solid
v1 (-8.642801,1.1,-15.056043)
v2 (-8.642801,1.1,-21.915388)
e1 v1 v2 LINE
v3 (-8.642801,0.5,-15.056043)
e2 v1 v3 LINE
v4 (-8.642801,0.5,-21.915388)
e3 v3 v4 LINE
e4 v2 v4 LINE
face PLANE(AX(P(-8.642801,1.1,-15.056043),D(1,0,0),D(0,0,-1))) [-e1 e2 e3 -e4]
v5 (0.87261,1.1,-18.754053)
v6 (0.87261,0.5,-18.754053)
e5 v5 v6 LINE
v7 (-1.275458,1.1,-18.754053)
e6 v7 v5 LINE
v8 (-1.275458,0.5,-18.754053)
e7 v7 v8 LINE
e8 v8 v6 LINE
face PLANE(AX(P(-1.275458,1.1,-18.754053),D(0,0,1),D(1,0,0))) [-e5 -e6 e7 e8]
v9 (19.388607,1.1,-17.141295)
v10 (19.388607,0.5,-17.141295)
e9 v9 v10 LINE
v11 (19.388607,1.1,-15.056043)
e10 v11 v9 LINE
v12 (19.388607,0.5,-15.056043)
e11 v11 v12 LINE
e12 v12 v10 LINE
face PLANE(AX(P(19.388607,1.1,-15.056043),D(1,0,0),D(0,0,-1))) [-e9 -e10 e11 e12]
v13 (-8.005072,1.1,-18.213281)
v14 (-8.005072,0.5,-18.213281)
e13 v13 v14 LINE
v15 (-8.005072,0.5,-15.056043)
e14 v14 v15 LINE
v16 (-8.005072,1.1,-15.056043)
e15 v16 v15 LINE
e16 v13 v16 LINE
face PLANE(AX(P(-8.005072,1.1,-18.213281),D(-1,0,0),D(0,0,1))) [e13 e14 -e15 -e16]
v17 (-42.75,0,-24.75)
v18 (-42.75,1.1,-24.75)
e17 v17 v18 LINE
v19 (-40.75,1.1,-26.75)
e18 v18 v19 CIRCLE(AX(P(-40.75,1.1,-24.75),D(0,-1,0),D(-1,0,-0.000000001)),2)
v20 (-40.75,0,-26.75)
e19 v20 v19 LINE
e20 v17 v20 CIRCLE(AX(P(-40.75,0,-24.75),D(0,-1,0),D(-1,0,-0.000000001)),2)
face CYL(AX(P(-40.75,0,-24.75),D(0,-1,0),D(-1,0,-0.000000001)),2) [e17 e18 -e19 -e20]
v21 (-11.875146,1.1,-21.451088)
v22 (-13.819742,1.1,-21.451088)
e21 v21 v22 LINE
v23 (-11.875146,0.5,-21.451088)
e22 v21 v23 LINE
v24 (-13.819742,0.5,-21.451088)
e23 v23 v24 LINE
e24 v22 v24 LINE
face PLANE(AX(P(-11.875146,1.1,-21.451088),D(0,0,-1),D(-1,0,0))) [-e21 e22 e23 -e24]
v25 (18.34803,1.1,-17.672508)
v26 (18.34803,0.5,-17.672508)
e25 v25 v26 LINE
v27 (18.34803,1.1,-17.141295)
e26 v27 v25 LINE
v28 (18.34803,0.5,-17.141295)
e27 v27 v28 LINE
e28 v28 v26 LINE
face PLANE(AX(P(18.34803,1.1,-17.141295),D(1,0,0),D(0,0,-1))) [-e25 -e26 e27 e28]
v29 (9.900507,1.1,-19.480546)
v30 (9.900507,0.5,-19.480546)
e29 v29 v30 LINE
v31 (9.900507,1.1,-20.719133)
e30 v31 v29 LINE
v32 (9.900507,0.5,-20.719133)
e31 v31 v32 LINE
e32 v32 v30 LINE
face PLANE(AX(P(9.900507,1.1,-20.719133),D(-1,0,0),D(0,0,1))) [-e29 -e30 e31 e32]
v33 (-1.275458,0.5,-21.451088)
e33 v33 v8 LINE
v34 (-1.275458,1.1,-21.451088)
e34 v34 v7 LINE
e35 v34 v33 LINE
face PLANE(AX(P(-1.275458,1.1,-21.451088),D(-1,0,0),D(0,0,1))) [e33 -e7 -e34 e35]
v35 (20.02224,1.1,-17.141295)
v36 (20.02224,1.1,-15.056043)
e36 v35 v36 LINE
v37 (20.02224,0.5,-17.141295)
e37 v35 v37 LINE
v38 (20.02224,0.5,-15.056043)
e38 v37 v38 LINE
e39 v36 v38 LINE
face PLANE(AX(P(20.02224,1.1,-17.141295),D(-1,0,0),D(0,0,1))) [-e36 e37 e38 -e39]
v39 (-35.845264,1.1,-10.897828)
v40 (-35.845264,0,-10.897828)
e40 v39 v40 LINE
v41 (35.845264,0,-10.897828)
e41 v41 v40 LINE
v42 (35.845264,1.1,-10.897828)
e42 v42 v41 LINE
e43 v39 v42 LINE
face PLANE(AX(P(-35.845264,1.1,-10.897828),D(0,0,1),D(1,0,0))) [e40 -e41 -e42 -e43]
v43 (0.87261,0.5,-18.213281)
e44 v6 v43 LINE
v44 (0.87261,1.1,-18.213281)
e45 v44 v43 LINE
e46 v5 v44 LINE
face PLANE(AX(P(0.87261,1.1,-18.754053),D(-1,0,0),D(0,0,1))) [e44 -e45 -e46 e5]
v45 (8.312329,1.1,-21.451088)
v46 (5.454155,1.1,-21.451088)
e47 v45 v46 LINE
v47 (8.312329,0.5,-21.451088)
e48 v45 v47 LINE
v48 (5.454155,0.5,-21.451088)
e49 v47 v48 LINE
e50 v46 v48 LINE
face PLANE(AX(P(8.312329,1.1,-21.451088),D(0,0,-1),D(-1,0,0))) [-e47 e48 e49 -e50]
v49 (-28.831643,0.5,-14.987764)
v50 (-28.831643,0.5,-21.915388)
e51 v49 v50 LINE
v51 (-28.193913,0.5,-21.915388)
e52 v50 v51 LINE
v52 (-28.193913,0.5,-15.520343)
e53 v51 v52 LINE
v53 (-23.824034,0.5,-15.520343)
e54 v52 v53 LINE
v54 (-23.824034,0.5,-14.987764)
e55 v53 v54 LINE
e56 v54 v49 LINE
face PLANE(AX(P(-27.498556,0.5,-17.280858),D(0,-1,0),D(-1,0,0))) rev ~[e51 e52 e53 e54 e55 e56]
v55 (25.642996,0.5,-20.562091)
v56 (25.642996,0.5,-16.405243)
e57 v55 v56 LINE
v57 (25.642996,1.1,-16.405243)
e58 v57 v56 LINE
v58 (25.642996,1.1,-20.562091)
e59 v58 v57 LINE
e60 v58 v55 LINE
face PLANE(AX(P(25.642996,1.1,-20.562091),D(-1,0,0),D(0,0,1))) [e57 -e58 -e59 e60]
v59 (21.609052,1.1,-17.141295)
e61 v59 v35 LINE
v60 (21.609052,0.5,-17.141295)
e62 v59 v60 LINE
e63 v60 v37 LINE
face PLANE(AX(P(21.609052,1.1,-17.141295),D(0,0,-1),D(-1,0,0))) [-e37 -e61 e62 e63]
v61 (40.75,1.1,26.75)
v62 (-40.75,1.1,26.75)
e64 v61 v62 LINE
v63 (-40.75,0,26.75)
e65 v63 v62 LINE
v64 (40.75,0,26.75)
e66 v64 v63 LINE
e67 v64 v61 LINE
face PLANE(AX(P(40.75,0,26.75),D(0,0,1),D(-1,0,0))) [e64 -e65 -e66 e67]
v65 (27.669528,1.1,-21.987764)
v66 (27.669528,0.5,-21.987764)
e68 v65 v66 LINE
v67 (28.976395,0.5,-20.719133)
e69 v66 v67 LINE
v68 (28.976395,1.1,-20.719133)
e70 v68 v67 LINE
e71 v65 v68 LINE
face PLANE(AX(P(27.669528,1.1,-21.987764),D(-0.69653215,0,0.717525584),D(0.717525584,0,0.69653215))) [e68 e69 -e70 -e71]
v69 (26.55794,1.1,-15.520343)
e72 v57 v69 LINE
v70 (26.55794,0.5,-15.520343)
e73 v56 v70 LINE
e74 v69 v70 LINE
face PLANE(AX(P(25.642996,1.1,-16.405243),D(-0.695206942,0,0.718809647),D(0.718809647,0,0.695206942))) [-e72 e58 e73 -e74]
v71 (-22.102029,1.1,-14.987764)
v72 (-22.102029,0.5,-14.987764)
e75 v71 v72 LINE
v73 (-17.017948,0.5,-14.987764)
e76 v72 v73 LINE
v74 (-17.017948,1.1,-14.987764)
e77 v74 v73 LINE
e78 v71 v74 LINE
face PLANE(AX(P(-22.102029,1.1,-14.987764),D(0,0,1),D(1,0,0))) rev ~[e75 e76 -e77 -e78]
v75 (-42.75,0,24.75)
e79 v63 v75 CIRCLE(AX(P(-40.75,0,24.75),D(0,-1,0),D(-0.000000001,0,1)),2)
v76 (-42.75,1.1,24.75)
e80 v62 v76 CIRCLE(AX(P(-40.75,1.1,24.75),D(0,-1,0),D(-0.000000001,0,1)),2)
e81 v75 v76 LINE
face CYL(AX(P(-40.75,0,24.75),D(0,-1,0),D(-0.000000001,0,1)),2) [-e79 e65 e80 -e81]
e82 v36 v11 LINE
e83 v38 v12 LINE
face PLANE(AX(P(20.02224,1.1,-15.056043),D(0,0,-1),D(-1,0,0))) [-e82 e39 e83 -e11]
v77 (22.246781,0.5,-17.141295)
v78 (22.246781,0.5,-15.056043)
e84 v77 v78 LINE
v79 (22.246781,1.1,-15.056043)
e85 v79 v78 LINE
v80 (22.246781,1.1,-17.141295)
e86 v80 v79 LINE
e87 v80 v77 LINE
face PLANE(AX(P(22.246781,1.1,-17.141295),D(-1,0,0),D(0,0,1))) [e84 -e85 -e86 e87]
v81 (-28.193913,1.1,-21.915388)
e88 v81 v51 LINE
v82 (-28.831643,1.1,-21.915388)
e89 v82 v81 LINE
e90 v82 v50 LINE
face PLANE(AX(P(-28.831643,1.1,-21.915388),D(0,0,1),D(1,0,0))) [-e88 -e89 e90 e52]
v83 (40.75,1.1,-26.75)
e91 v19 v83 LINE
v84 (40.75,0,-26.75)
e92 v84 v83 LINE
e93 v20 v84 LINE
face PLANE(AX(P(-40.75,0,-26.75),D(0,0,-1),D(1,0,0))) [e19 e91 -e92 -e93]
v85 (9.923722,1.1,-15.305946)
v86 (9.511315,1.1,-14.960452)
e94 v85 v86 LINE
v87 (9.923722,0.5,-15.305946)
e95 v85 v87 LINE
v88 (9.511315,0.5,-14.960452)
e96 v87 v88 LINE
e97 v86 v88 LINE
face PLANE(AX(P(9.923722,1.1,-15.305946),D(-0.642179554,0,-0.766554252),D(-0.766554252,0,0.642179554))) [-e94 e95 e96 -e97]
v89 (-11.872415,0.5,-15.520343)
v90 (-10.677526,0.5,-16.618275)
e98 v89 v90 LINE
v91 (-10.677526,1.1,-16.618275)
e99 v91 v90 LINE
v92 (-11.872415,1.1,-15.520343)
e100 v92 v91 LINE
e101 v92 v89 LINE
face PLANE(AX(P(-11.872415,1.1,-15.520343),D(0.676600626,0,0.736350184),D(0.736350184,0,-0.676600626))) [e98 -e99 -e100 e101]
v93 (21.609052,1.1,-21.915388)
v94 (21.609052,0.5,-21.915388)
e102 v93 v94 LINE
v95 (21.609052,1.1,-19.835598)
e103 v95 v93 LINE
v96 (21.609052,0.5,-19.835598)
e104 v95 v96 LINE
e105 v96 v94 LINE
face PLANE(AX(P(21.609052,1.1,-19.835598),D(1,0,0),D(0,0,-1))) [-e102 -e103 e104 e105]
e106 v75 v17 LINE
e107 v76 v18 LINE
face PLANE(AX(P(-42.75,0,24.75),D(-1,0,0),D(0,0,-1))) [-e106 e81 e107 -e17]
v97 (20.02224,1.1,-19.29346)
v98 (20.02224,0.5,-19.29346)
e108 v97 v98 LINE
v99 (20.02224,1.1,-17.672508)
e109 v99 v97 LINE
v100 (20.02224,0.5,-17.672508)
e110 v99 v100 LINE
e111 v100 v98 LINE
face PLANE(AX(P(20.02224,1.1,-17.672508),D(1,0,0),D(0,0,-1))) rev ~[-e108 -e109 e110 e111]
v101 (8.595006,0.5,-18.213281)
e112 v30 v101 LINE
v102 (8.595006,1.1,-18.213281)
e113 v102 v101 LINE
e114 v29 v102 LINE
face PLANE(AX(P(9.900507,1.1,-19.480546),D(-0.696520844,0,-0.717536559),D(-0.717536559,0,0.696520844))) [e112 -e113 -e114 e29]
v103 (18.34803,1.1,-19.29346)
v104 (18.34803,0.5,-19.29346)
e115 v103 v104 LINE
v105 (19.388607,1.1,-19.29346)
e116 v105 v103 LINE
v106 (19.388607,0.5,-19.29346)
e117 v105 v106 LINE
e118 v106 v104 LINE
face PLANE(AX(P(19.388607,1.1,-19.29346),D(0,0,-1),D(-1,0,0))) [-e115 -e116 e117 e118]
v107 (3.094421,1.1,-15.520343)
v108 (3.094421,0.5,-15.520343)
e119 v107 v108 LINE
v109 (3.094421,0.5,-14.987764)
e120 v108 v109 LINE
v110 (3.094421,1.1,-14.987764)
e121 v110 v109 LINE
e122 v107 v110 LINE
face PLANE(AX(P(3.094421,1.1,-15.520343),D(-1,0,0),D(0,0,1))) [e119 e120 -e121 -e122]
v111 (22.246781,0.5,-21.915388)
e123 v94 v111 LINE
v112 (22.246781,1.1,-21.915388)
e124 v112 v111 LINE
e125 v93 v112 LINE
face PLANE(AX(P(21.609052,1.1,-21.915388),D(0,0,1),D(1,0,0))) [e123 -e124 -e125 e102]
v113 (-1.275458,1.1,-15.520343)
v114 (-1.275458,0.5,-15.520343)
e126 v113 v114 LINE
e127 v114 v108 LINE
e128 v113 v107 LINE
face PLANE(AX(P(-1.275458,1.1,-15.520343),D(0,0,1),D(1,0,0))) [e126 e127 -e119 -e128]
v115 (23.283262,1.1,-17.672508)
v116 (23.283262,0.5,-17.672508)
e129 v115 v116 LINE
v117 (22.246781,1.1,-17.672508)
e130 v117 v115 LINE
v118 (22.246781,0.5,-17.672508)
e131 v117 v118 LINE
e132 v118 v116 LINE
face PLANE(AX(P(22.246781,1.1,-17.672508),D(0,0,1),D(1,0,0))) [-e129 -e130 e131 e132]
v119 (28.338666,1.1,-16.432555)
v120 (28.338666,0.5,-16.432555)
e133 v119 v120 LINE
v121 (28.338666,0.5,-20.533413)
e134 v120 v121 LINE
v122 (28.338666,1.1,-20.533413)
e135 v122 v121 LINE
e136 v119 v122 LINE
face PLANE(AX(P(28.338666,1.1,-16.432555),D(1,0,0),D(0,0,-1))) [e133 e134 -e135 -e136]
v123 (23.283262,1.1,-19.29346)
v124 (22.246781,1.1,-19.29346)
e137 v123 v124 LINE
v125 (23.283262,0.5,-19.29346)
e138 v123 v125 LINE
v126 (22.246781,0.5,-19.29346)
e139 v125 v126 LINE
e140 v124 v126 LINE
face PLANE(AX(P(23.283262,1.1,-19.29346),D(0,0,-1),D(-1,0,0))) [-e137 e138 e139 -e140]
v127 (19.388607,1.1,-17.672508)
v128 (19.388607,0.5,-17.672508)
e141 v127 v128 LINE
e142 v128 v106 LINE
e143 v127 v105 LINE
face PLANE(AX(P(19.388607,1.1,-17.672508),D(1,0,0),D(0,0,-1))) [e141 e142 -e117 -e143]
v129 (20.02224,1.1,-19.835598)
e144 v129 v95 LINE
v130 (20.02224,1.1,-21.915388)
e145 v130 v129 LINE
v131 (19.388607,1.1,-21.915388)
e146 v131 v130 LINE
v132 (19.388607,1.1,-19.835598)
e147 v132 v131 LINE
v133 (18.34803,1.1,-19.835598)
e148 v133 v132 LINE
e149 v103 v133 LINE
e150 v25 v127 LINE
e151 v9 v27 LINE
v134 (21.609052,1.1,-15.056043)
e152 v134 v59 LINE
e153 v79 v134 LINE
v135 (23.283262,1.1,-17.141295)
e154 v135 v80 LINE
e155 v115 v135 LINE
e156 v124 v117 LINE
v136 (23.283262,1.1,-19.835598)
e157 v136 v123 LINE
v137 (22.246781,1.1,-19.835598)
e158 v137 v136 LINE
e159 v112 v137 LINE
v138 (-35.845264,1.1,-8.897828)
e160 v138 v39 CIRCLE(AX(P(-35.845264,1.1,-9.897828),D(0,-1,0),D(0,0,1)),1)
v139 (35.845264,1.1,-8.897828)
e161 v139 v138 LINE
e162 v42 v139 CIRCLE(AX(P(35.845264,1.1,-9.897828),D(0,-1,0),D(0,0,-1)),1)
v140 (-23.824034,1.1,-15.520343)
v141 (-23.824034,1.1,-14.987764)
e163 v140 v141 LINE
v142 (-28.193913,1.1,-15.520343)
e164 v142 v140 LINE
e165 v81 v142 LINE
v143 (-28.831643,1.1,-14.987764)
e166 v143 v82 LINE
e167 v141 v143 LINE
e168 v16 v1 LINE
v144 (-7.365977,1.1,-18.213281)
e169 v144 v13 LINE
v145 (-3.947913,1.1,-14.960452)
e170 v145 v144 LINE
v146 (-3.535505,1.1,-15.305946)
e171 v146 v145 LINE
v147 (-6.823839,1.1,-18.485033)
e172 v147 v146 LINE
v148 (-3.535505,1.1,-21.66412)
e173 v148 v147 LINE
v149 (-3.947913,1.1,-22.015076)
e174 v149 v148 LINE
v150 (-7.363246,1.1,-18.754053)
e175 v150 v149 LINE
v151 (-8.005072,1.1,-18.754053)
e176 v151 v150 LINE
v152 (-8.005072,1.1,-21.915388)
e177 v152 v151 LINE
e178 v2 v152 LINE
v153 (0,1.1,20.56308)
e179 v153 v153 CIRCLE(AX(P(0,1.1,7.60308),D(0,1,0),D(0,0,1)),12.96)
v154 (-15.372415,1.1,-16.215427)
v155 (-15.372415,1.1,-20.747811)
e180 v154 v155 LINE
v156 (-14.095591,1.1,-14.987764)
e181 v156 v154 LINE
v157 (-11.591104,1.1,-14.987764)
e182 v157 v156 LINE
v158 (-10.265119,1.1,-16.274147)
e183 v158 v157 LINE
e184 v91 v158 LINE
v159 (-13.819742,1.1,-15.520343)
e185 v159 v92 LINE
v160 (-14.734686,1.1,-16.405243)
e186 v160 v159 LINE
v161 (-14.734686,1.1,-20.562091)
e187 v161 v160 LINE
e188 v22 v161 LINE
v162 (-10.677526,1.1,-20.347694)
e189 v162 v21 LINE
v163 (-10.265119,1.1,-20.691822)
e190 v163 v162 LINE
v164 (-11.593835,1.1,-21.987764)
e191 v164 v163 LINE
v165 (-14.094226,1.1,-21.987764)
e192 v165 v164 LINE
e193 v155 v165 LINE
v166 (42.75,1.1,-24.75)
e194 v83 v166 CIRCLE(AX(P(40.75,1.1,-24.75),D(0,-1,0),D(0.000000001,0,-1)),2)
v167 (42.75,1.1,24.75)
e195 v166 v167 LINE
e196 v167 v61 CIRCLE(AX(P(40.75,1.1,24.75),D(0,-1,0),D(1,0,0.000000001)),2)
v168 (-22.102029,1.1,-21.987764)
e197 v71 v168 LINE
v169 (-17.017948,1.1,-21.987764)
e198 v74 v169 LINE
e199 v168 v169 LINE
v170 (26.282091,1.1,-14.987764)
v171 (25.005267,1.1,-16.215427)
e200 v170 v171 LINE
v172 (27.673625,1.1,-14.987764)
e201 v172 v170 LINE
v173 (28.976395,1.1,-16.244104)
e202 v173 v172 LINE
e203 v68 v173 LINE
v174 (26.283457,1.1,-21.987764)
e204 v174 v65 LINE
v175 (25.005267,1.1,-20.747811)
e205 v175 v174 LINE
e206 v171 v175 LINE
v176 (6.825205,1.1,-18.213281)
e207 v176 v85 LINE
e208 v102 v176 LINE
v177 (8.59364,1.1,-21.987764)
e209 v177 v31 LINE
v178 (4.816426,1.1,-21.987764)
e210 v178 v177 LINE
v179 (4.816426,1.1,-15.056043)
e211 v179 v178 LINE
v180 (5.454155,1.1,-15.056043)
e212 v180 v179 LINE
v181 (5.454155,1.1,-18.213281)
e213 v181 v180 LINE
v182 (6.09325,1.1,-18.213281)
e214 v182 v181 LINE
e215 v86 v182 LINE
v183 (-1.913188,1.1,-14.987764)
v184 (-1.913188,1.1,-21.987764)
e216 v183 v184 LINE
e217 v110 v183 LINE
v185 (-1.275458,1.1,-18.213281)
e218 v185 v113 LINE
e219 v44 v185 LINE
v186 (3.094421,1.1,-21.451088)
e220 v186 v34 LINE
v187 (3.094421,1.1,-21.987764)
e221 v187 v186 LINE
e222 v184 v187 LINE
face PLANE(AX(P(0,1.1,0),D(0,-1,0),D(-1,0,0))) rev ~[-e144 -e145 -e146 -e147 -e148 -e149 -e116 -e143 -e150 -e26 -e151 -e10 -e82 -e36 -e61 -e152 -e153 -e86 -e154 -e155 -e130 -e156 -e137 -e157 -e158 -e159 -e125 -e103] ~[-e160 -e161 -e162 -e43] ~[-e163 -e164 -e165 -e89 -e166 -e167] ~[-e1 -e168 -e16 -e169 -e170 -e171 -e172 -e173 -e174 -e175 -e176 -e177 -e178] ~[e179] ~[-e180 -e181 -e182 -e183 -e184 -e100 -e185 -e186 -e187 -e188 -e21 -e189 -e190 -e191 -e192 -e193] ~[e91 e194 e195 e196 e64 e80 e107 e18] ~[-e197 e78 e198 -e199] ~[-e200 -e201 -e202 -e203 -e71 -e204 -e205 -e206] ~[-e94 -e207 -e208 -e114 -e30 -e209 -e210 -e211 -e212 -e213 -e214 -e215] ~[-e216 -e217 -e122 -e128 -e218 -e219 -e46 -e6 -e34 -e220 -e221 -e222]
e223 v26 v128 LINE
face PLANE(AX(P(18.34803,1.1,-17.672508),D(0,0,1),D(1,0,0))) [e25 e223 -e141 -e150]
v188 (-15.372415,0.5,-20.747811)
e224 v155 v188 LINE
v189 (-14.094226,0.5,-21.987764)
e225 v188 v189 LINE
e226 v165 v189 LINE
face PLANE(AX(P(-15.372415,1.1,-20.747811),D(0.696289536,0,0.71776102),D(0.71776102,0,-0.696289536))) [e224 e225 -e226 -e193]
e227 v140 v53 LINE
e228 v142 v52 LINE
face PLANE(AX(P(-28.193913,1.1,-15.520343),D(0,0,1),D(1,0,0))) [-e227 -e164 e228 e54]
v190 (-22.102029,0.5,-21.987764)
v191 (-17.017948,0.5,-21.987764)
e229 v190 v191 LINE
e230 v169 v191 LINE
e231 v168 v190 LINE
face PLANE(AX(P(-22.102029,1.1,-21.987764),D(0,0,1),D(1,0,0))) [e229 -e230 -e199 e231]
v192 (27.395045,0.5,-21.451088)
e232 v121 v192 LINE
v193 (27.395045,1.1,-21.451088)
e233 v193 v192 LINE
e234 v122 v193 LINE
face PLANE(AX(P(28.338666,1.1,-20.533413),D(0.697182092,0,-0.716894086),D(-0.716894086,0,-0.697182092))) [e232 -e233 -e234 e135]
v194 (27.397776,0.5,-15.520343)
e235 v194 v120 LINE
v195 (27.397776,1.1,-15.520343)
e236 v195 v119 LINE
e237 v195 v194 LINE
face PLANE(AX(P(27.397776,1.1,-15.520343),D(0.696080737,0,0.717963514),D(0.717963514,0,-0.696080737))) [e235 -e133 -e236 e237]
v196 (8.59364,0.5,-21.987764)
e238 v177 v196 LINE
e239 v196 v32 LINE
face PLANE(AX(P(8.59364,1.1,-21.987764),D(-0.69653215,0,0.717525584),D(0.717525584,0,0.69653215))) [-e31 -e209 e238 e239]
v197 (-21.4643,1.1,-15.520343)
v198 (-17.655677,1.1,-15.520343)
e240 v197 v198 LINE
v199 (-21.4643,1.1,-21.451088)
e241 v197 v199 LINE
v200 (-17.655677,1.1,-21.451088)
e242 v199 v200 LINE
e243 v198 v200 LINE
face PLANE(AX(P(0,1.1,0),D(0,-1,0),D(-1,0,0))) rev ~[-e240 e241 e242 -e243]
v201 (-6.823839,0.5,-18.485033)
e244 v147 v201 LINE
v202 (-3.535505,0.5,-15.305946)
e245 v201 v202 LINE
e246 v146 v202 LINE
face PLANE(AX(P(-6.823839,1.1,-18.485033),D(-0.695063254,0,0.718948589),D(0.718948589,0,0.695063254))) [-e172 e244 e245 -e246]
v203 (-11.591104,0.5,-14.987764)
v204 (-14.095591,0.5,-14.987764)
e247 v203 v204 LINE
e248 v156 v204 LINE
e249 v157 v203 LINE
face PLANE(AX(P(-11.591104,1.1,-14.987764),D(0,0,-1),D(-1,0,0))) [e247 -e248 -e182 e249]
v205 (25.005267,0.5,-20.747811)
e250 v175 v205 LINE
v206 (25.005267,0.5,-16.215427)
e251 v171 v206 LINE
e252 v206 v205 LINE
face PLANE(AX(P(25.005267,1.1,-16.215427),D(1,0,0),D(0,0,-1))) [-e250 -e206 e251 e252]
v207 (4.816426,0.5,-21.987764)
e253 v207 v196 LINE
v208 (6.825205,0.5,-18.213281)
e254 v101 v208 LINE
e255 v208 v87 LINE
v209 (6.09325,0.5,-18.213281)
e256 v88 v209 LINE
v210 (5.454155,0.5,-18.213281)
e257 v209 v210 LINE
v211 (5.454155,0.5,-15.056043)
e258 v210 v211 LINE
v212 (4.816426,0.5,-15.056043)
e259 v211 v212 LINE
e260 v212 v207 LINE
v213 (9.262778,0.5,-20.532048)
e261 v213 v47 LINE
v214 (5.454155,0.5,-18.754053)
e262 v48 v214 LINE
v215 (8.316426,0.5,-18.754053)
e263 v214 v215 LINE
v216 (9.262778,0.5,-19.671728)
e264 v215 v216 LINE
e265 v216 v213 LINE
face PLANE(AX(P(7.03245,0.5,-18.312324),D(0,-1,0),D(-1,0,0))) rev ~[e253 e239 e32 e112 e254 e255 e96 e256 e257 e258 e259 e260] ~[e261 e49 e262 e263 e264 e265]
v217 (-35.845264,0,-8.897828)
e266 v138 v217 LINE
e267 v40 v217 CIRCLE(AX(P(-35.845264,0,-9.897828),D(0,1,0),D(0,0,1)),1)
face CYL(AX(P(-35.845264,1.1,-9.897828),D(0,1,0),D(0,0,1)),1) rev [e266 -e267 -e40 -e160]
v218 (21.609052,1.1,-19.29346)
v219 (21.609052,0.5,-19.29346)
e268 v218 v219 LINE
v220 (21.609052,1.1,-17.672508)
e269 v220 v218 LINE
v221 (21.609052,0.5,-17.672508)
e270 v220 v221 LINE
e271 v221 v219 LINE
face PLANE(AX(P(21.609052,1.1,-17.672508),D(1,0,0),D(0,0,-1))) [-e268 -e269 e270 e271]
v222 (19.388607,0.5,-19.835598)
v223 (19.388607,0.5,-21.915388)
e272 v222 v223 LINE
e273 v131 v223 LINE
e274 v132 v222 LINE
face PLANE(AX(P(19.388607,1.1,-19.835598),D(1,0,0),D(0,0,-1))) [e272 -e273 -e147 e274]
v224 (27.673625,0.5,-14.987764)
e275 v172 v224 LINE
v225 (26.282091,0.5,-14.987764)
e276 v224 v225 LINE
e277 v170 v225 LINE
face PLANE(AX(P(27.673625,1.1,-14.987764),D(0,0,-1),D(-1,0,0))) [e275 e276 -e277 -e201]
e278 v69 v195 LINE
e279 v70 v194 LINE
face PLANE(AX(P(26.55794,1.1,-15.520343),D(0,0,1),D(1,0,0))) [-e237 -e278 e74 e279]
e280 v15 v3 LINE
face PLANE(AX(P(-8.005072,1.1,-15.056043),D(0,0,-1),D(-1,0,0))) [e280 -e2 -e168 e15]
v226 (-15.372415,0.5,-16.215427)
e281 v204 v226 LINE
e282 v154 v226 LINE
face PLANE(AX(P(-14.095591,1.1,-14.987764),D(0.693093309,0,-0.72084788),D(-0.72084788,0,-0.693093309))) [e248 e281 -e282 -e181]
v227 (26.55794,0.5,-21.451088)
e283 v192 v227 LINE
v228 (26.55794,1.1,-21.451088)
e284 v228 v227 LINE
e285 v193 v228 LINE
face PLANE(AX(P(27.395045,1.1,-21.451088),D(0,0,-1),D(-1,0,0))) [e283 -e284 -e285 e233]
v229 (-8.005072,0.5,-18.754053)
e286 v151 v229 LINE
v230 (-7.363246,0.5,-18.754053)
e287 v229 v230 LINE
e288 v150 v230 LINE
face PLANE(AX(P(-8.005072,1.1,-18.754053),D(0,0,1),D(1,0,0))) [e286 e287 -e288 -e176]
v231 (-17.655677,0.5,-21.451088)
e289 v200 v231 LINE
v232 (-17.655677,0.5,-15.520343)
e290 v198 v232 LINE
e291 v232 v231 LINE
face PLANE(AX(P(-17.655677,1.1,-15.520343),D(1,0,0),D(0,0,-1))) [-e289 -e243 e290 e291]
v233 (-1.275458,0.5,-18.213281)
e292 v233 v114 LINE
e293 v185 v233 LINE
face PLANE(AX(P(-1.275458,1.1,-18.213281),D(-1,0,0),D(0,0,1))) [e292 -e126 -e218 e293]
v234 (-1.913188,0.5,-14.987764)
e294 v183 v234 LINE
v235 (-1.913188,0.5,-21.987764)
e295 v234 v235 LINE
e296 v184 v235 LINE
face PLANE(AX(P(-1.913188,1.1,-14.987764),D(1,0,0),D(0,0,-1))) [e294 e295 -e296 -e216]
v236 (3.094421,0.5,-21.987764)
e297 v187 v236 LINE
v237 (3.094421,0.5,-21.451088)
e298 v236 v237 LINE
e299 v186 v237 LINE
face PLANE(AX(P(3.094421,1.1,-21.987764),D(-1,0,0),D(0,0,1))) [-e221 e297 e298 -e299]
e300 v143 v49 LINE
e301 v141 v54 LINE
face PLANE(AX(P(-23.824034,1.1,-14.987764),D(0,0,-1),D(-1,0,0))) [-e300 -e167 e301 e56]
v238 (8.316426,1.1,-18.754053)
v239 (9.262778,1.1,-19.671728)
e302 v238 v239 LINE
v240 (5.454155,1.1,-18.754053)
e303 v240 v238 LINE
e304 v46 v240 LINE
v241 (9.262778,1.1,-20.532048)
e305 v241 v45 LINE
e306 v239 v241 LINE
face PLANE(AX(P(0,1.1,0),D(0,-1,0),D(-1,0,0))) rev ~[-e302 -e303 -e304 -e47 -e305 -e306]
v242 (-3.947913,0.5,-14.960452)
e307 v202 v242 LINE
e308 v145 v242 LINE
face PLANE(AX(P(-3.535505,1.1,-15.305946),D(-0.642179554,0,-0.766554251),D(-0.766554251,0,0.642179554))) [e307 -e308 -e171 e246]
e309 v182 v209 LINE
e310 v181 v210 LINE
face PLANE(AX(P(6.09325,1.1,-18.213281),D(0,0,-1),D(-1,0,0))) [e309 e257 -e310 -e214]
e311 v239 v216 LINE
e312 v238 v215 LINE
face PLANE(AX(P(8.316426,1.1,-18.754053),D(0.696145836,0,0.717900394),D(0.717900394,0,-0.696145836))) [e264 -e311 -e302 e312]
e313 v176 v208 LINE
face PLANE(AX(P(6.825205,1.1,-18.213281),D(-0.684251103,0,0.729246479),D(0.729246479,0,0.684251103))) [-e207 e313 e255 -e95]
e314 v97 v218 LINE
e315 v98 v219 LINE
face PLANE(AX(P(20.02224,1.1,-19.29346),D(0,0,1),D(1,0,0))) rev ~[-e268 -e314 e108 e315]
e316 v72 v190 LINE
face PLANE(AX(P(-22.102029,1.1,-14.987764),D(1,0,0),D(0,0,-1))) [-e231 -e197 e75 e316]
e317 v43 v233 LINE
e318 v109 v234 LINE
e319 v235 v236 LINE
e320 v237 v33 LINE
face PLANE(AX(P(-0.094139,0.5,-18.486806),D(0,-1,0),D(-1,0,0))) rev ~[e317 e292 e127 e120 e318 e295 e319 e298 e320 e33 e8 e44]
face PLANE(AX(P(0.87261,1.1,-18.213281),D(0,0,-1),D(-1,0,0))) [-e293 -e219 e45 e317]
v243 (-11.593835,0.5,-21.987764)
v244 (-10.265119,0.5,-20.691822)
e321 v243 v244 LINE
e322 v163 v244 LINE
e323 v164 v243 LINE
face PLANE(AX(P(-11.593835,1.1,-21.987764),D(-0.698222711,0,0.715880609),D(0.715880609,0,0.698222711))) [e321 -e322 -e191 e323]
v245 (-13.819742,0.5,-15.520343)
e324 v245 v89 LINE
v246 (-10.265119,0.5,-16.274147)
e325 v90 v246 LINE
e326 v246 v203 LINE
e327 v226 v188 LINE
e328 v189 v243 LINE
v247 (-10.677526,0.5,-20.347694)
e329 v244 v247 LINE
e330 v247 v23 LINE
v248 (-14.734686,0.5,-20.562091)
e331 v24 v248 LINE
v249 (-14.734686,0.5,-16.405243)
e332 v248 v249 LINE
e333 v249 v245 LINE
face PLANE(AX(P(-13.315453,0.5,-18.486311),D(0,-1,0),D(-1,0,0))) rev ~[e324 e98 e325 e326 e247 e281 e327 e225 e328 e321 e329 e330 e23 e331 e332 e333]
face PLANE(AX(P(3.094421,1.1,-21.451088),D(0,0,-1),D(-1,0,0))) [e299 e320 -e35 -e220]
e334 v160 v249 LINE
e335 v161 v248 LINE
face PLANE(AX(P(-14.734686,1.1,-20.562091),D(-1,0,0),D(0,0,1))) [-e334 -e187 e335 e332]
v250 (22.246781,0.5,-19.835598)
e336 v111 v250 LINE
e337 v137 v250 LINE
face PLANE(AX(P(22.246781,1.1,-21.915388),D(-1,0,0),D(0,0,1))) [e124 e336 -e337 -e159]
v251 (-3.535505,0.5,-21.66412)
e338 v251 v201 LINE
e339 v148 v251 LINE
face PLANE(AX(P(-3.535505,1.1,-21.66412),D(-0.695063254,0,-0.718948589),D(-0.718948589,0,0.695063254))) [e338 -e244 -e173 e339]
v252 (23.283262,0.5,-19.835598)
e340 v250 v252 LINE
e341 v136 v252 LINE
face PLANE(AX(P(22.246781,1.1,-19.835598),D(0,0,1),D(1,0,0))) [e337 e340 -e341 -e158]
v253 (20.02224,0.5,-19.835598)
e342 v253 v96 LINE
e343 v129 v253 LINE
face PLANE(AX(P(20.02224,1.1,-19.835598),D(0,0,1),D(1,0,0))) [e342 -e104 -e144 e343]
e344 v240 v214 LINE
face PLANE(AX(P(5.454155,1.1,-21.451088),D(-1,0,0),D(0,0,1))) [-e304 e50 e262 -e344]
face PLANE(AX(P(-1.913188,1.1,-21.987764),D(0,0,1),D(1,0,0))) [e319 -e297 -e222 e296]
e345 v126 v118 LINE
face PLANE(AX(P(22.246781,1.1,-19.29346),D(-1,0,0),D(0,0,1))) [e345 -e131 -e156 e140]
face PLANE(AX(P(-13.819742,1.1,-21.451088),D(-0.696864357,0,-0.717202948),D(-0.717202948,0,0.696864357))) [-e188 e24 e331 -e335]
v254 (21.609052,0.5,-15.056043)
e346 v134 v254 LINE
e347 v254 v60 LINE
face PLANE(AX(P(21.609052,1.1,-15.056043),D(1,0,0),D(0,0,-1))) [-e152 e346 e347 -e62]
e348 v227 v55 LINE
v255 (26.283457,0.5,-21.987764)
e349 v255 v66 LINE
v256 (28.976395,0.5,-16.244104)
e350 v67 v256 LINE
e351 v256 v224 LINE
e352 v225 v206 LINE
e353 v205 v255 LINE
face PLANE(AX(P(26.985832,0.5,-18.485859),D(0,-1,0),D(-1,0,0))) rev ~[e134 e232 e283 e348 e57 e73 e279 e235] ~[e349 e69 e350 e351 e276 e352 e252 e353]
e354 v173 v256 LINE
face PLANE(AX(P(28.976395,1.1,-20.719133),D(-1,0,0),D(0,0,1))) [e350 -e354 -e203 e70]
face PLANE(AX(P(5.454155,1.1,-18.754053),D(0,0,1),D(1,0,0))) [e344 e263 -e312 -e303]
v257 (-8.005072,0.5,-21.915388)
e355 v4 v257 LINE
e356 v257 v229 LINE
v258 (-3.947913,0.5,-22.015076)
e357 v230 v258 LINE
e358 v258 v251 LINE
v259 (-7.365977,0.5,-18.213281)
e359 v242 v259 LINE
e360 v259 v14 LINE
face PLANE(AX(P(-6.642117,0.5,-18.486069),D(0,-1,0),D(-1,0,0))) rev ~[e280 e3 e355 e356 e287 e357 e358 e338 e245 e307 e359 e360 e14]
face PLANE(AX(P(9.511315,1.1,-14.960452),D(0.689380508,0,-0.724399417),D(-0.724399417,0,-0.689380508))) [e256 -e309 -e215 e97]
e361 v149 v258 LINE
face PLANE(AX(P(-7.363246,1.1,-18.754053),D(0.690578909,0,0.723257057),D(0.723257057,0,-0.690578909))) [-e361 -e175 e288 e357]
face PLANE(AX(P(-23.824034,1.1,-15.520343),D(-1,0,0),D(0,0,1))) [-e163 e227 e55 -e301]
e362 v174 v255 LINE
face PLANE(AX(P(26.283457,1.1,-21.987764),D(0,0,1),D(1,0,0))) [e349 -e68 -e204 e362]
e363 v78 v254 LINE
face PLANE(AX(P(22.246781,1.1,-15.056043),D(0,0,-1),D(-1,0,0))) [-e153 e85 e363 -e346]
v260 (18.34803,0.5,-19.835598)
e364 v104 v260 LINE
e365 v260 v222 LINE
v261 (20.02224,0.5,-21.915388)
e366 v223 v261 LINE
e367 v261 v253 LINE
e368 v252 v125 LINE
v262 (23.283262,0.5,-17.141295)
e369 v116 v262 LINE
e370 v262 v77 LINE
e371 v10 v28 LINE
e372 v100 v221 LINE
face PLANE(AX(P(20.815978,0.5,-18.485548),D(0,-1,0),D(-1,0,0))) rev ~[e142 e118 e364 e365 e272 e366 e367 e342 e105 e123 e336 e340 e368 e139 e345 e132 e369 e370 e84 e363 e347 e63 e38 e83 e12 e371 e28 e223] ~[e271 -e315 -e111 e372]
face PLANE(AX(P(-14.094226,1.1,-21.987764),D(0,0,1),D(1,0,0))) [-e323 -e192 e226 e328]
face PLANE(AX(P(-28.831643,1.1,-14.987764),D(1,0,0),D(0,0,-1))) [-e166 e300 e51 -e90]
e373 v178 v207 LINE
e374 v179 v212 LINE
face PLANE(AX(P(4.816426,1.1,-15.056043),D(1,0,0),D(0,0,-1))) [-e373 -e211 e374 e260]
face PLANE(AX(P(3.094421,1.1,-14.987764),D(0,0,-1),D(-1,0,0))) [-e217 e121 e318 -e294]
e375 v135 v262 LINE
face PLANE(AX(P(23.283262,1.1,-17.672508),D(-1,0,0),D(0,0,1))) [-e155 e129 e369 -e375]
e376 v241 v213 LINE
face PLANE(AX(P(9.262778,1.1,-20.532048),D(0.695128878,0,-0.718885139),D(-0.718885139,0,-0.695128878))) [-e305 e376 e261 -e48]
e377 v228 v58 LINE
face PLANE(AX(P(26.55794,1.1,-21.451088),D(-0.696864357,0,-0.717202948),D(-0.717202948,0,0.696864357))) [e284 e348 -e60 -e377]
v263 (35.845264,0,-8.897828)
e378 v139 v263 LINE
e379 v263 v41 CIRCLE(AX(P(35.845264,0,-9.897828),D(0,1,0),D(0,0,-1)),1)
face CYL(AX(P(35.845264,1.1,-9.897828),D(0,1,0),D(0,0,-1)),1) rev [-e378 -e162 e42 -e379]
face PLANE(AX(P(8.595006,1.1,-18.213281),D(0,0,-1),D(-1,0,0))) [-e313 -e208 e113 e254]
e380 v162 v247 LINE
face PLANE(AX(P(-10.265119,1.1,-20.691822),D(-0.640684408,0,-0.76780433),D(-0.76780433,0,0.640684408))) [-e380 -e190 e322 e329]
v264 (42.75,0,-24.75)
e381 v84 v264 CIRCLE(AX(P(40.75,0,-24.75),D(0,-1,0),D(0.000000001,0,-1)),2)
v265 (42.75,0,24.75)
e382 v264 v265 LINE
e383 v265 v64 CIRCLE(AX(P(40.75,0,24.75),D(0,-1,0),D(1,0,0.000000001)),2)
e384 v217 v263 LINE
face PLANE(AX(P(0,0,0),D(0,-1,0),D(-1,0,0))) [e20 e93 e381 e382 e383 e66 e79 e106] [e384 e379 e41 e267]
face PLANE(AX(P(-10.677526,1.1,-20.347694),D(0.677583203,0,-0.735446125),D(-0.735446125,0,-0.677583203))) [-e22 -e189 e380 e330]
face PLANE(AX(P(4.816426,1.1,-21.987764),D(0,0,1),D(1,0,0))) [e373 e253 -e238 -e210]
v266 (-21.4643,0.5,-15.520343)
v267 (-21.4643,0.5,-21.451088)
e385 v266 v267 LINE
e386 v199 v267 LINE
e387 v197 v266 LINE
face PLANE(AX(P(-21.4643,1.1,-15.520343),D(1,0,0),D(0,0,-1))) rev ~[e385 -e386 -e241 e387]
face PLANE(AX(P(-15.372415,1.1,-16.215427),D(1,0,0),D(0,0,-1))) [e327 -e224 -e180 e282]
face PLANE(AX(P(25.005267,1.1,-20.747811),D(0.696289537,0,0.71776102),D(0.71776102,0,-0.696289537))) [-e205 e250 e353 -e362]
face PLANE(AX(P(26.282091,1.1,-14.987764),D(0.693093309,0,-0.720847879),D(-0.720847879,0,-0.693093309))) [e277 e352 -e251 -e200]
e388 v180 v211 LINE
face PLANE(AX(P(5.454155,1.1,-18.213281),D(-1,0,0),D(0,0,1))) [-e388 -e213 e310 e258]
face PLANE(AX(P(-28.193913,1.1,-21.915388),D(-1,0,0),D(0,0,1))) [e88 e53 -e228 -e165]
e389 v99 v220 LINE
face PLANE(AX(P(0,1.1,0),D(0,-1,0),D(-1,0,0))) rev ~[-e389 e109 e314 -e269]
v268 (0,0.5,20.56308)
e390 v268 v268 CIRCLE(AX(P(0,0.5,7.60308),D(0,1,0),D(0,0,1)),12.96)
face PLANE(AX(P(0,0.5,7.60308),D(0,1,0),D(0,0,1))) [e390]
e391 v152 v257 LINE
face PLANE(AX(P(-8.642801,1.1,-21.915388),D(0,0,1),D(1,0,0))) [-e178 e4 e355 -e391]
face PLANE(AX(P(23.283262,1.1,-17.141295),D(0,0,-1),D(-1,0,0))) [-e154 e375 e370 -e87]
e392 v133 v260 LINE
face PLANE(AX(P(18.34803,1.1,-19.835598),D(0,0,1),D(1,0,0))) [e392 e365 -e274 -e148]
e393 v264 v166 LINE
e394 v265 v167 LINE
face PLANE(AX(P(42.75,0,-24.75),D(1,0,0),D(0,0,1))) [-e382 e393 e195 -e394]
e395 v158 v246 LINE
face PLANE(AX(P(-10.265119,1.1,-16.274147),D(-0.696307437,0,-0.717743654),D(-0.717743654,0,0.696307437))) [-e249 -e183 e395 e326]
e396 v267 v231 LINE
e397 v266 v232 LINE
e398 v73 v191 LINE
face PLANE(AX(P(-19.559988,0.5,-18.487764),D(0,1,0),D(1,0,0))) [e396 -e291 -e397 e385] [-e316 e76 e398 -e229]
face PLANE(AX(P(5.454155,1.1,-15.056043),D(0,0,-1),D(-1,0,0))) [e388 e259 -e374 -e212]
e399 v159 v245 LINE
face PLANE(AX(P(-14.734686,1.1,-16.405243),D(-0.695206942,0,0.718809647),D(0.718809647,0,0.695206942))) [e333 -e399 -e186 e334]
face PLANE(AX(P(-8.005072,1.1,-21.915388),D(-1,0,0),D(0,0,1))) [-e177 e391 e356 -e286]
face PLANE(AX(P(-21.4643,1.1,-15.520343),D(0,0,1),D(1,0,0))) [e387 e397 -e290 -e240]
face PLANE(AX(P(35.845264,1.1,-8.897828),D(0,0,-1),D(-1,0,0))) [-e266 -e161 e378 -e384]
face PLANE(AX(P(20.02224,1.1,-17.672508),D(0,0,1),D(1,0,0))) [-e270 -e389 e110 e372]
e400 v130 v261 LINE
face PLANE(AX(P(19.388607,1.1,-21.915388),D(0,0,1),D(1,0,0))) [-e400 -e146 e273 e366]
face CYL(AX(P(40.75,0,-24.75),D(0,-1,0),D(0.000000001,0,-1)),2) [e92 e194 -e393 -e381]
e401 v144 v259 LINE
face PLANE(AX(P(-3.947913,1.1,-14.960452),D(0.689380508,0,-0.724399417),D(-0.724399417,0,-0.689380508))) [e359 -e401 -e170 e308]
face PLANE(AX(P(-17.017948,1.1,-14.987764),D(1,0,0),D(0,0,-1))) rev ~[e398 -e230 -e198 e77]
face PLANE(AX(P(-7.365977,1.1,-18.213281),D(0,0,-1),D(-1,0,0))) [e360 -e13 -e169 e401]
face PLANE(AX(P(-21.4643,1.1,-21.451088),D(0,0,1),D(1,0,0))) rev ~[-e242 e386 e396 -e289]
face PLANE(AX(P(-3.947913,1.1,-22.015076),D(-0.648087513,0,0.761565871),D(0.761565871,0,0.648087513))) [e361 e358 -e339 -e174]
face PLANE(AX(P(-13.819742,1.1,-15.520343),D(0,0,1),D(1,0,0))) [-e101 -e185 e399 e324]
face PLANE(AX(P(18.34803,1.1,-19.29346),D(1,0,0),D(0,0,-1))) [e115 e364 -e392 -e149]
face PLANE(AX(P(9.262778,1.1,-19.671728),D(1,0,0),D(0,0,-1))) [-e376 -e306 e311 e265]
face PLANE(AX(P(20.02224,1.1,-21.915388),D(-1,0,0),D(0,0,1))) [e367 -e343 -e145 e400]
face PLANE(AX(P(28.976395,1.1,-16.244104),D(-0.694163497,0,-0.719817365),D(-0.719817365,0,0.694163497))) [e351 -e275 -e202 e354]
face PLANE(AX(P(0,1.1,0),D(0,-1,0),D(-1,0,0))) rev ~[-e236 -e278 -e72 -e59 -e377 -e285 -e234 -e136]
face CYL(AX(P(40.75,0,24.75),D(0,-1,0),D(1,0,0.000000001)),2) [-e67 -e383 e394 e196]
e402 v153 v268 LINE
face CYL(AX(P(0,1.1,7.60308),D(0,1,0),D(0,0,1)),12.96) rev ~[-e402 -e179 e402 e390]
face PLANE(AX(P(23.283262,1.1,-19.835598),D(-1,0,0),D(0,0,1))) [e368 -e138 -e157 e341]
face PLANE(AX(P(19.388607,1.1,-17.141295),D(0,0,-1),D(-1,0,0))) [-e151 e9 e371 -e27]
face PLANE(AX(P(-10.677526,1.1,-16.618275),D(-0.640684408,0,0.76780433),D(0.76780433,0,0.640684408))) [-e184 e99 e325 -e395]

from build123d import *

# Parameters (mm, degrees)
EXTRUDE_1_DEPTH     = 1.1
SKETCH_4_R          = 12.96
SKETCH_4_W          = 5.084081154
SKETCH_4_H          = 7
SKETCH_4_W_2        = 3.808622708
SKETCH_4_H_2        = 5.930745221
SKETCH_4_W_3        = 1.586812329
SKETCH_4_H_3        = 1.62095201
CUT_EXTRUDE_8_DEPTH = 0.6
CUT_EXTRUDE_9_DEPTH = 51.441401646


with BuildPart() as part:
    # Эскиз1 → Бобышка-Вытянуть1 (new body)
    with BuildSketch(Plane(origin=(0, 0, 0), x_dir=(1, 0, 0), z_dir=(0, 1, 0))):
        with BuildLine():
            Line((-40.75, 26.75), (40.75, 26.75))
            ThreePointArc((40.75, 26.75), (42.164213562, 26.164213562), (42.75, 24.75))
            Line((42.75, 24.75), (42.75, -24.75))
            ThreePointArc((42.75, -24.75), (42.164213562, -26.164213562), (40.75, -26.75))
            Line((40.75, -26.75), (-40.75, -26.75))
            ThreePointArc((-40.75, -26.75), (-42.164213562, -26.164213562), (-42.75, -24.75))
            Line((-42.75, -24.75), (-42.75, 24.75))
            ThreePointArc((-42.75, 24.75), (-42.164213562, 26.164213562), (-40.75, 26.75))
        make_face()
    extrude(amount=EXTRUDE_1_DEPTH)

    # Эскиз4 → Вырез-Вытянуть8 (cut)
    # profile 1 of 9: a face of its own
    with BuildSketch(Plane(origin=(0, 1.1, 0), x_dir=(1, 0, 0), z_dir=(0, 1, 0))):
        with Locations(Location((0, -7.603080064, 0), (0, 0, 270))):
            Circle(SKETCH_4_R)
    # profile 2 of 9: a face of its own
    with BuildSketch(Plane(origin=(0, 1.1, 0), x_dir=(1, 0, 0), z_dir=(0, 1, 0))):
        Polygon((-23.824034335, 14.987763796), (-28.831642606, 14.987763796), (-28.831642606, 21.915387674), (-28.193913383, 21.915387674), (-28.193913383, 15.520342805), (-23.824034335, 15.520342805), align=None)
    # profile 3 of 9: a face of its own
    with BuildSketch(Plane(origin=(0, 1.1, 0), x_dir=(1, 0, 0), z_dir=(0, 1, 0))):
        with Locations((-19.559988295, 18.487763796)):
            Rectangle(SKETCH_4_W, SKETCH_4_H)
        with Locations((-19.559988295, 18.485715415)):
            Rectangle(SKETCH_4_W_2, SKETCH_4_H_2, mode=Mode.SUBTRACT)
    # profile 4 of 9: a face of its own
    with BuildSketch(Plane(origin=(0, 1.1, 0), x_dir=(1, 0, 0), z_dir=(0, 1, 0))):
        Polygon((-10.265119001, 16.274146941), (-11.591104175, 14.987763796), (-14.095591104, 14.987763796), (-15.372415139, 16.215426691), (-15.372415139, 20.747810616), (-14.094225517, 21.987763796), (-11.593835349, 21.987763796), (-10.265119001, 20.691821541), (-10.677526336, 20.347693566), (-11.875146313, 21.451088026), (-13.819742489, 21.451088026), (-14.734685915, 20.562090757), (-14.734685915, 16.405243312), (-13.819742489, 15.520342805), (-11.872415139, 15.520342805), (-10.677526336, 16.618274916), align=None)
    # profile 5 of 9: a face of its own
    with BuildSketch(Plane(origin=(0, 1.1, 0), x_dir=(1, 0, 0), z_dir=(0, 1, 0))):
        Polygon((-3.535505267, 15.305945614), (-3.947912602, 14.960452052), (-7.36597737, 18.213280768), (-8.005072181, 18.213280768), (-8.005072181, 15.056043156), (-8.642801405, 15.056043156), (-8.642801405, 21.915387674), (-8.005072181, 21.915387674), (-8.005072181, 18.754053301), (-7.363246196, 18.754053301), (-3.947912602, 22.01507554), (-3.535505267, 21.664119629), (-6.823839251, 18.485032622), align=None)
    # profile 6 of 9: a face of its own
    with BuildSketch(Plane(origin=(0, 1.1, 0), x_dir=(1, 0, 0), z_dir=(0, 1, 0))):
        Polygon((3.094420601, 14.987763796), (-1.913187671, 14.987763796), (-1.913187671, 21.987763796), (3.094420601, 21.987763796), (3.094420601, 21.451088026), (-1.275458447, 21.451088026), (-1.275458447, 18.754053301), (0.872610222, 18.754053301), (0.872610222, 18.213280768), (-1.275458447, 18.213280768), (-1.275458447, 15.520342805), (3.094420601, 15.520342805), align=None)
    # profile 7 of 9: a face of its own
    with BuildSketch(Plane(origin=(0, 1.1, 0), x_dir=(1, 0, 0), z_dir=(0, 1, 0))):
        Polygon((9.900507218, 19.480545692), (8.595005853, 18.213280768), (6.825204838, 18.213280768), (9.923722201, 15.305945614), (9.511314865, 14.960452052), (6.093250098, 18.213280768), (5.454155287, 18.213280768), (5.454155287, 15.056043156), (4.816426063, 15.056043156), (4.816426063, 21.987763796), (8.593640265, 21.987763796), (9.900507218, 20.719133285), align=None)
        Polygon((9.262777995, 19.671727901), (9.262777995, 20.532047838), (8.312329302, 21.451088026), (5.454155287, 21.451088026), (5.454155287, 18.754053301), (8.316426063, 18.754053301), align=None, mode=Mode.SUBTRACT)
    # profile 8 of 9: a face of its own
    with BuildSketch(Plane(origin=(0, 1.1, 0), x_dir=(1, 0, 0), z_dir=(0, 1, 0))):
        Polygon((23.283261803, 17.141294815), (22.246781116, 17.141294815), (22.246781116, 15.056043156), (21.609051892, 15.056043156), (21.609051892, 17.141294815), (20.022239563, 17.141294815), (20.022239563, 15.056043156), (19.388607101, 15.056043156), (19.388607101, 17.141294815), (18.348029653, 17.141294815), (18.348029653, 17.672508236), (19.388607101, 17.672508236), (19.388607101, 19.293460246), (18.348029653, 19.293460246), (18.348029653, 19.835598365), (19.388607101, 19.835598365), (19.388607101, 21.915387674), (20.022239563, 21.915387674), (20.022239563, 19.835598365), (21.609051892, 19.835598365), (21.609051892, 21.915387674), (22.246781116, 21.915387674), (22.246781116, 19.835598365), (23.283261803, 19.835598365), (23.283261803, 19.293460246), (22.246781116, 19.293460246), (22.246781116, 17.672508236), (23.283261803, 17.672508236), align=None)
        with Locations((20.815645728, 18.482984241)):
            Rectangle(SKETCH_4_W_3, SKETCH_4_H_3, mode=Mode.SUBTRACT)
    # profile 9 of 9: a face of its own
    with BuildSketch(Plane(origin=(0, 1.1, 0), x_dir=(1, 0, 0), z_dir=(0, 1, 0))):
        Polygon((28.97639485, 16.244104022), (27.673624659, 14.987763796), (26.282091299, 14.987763796), (25.005267265, 16.215426691), (25.005267265, 20.747810616), (26.283456886, 21.987763796), (27.669527897, 21.987763796), (28.97639485, 20.719133285), align=None)
        Polygon((28.338665626, 16.432555056), (28.338665626, 20.533413426), (27.395044869, 21.451088026), (26.557939914, 21.451088026), (25.642996488, 20.562090757), (25.642996488, 16.405243312), (26.557939914, 15.520342805), (27.397776044, 15.520342805), align=None, mode=Mode.SUBTRACT)
    extrude(amount=-CUT_EXTRUDE_8_DEPTH, mode=Mode.SUBTRACT)

    # Эскиз5 → Вырез-Вытянуть9 (cut, through all)
    with BuildSketch(Plane(origin=(0, 1.1, 0), x_dir=(1, 0, 0), z_dir=(0, 1, 0))):
        with BuildLine():
            Line((-35.845264221, 10.897827852), (35.845264221, 10.897827852))
            ThreePointArc((35.845264221, 10.897827852), (36.845264221, 9.897827852), (35.845264221, 8.897827852))
            Line((35.845264221, 8.897827852), (-35.845264221, 8.897827852))
            ThreePointArc((-35.845264221, 8.897827852), (-36.845264221, 9.897827852), (-35.845264221, 10.897827852))
        make_face()
    extrude(amount=-CUT_EXTRUDE_9_DEPTH, mode=Mode.SUBTRACT)


solid = part.part
